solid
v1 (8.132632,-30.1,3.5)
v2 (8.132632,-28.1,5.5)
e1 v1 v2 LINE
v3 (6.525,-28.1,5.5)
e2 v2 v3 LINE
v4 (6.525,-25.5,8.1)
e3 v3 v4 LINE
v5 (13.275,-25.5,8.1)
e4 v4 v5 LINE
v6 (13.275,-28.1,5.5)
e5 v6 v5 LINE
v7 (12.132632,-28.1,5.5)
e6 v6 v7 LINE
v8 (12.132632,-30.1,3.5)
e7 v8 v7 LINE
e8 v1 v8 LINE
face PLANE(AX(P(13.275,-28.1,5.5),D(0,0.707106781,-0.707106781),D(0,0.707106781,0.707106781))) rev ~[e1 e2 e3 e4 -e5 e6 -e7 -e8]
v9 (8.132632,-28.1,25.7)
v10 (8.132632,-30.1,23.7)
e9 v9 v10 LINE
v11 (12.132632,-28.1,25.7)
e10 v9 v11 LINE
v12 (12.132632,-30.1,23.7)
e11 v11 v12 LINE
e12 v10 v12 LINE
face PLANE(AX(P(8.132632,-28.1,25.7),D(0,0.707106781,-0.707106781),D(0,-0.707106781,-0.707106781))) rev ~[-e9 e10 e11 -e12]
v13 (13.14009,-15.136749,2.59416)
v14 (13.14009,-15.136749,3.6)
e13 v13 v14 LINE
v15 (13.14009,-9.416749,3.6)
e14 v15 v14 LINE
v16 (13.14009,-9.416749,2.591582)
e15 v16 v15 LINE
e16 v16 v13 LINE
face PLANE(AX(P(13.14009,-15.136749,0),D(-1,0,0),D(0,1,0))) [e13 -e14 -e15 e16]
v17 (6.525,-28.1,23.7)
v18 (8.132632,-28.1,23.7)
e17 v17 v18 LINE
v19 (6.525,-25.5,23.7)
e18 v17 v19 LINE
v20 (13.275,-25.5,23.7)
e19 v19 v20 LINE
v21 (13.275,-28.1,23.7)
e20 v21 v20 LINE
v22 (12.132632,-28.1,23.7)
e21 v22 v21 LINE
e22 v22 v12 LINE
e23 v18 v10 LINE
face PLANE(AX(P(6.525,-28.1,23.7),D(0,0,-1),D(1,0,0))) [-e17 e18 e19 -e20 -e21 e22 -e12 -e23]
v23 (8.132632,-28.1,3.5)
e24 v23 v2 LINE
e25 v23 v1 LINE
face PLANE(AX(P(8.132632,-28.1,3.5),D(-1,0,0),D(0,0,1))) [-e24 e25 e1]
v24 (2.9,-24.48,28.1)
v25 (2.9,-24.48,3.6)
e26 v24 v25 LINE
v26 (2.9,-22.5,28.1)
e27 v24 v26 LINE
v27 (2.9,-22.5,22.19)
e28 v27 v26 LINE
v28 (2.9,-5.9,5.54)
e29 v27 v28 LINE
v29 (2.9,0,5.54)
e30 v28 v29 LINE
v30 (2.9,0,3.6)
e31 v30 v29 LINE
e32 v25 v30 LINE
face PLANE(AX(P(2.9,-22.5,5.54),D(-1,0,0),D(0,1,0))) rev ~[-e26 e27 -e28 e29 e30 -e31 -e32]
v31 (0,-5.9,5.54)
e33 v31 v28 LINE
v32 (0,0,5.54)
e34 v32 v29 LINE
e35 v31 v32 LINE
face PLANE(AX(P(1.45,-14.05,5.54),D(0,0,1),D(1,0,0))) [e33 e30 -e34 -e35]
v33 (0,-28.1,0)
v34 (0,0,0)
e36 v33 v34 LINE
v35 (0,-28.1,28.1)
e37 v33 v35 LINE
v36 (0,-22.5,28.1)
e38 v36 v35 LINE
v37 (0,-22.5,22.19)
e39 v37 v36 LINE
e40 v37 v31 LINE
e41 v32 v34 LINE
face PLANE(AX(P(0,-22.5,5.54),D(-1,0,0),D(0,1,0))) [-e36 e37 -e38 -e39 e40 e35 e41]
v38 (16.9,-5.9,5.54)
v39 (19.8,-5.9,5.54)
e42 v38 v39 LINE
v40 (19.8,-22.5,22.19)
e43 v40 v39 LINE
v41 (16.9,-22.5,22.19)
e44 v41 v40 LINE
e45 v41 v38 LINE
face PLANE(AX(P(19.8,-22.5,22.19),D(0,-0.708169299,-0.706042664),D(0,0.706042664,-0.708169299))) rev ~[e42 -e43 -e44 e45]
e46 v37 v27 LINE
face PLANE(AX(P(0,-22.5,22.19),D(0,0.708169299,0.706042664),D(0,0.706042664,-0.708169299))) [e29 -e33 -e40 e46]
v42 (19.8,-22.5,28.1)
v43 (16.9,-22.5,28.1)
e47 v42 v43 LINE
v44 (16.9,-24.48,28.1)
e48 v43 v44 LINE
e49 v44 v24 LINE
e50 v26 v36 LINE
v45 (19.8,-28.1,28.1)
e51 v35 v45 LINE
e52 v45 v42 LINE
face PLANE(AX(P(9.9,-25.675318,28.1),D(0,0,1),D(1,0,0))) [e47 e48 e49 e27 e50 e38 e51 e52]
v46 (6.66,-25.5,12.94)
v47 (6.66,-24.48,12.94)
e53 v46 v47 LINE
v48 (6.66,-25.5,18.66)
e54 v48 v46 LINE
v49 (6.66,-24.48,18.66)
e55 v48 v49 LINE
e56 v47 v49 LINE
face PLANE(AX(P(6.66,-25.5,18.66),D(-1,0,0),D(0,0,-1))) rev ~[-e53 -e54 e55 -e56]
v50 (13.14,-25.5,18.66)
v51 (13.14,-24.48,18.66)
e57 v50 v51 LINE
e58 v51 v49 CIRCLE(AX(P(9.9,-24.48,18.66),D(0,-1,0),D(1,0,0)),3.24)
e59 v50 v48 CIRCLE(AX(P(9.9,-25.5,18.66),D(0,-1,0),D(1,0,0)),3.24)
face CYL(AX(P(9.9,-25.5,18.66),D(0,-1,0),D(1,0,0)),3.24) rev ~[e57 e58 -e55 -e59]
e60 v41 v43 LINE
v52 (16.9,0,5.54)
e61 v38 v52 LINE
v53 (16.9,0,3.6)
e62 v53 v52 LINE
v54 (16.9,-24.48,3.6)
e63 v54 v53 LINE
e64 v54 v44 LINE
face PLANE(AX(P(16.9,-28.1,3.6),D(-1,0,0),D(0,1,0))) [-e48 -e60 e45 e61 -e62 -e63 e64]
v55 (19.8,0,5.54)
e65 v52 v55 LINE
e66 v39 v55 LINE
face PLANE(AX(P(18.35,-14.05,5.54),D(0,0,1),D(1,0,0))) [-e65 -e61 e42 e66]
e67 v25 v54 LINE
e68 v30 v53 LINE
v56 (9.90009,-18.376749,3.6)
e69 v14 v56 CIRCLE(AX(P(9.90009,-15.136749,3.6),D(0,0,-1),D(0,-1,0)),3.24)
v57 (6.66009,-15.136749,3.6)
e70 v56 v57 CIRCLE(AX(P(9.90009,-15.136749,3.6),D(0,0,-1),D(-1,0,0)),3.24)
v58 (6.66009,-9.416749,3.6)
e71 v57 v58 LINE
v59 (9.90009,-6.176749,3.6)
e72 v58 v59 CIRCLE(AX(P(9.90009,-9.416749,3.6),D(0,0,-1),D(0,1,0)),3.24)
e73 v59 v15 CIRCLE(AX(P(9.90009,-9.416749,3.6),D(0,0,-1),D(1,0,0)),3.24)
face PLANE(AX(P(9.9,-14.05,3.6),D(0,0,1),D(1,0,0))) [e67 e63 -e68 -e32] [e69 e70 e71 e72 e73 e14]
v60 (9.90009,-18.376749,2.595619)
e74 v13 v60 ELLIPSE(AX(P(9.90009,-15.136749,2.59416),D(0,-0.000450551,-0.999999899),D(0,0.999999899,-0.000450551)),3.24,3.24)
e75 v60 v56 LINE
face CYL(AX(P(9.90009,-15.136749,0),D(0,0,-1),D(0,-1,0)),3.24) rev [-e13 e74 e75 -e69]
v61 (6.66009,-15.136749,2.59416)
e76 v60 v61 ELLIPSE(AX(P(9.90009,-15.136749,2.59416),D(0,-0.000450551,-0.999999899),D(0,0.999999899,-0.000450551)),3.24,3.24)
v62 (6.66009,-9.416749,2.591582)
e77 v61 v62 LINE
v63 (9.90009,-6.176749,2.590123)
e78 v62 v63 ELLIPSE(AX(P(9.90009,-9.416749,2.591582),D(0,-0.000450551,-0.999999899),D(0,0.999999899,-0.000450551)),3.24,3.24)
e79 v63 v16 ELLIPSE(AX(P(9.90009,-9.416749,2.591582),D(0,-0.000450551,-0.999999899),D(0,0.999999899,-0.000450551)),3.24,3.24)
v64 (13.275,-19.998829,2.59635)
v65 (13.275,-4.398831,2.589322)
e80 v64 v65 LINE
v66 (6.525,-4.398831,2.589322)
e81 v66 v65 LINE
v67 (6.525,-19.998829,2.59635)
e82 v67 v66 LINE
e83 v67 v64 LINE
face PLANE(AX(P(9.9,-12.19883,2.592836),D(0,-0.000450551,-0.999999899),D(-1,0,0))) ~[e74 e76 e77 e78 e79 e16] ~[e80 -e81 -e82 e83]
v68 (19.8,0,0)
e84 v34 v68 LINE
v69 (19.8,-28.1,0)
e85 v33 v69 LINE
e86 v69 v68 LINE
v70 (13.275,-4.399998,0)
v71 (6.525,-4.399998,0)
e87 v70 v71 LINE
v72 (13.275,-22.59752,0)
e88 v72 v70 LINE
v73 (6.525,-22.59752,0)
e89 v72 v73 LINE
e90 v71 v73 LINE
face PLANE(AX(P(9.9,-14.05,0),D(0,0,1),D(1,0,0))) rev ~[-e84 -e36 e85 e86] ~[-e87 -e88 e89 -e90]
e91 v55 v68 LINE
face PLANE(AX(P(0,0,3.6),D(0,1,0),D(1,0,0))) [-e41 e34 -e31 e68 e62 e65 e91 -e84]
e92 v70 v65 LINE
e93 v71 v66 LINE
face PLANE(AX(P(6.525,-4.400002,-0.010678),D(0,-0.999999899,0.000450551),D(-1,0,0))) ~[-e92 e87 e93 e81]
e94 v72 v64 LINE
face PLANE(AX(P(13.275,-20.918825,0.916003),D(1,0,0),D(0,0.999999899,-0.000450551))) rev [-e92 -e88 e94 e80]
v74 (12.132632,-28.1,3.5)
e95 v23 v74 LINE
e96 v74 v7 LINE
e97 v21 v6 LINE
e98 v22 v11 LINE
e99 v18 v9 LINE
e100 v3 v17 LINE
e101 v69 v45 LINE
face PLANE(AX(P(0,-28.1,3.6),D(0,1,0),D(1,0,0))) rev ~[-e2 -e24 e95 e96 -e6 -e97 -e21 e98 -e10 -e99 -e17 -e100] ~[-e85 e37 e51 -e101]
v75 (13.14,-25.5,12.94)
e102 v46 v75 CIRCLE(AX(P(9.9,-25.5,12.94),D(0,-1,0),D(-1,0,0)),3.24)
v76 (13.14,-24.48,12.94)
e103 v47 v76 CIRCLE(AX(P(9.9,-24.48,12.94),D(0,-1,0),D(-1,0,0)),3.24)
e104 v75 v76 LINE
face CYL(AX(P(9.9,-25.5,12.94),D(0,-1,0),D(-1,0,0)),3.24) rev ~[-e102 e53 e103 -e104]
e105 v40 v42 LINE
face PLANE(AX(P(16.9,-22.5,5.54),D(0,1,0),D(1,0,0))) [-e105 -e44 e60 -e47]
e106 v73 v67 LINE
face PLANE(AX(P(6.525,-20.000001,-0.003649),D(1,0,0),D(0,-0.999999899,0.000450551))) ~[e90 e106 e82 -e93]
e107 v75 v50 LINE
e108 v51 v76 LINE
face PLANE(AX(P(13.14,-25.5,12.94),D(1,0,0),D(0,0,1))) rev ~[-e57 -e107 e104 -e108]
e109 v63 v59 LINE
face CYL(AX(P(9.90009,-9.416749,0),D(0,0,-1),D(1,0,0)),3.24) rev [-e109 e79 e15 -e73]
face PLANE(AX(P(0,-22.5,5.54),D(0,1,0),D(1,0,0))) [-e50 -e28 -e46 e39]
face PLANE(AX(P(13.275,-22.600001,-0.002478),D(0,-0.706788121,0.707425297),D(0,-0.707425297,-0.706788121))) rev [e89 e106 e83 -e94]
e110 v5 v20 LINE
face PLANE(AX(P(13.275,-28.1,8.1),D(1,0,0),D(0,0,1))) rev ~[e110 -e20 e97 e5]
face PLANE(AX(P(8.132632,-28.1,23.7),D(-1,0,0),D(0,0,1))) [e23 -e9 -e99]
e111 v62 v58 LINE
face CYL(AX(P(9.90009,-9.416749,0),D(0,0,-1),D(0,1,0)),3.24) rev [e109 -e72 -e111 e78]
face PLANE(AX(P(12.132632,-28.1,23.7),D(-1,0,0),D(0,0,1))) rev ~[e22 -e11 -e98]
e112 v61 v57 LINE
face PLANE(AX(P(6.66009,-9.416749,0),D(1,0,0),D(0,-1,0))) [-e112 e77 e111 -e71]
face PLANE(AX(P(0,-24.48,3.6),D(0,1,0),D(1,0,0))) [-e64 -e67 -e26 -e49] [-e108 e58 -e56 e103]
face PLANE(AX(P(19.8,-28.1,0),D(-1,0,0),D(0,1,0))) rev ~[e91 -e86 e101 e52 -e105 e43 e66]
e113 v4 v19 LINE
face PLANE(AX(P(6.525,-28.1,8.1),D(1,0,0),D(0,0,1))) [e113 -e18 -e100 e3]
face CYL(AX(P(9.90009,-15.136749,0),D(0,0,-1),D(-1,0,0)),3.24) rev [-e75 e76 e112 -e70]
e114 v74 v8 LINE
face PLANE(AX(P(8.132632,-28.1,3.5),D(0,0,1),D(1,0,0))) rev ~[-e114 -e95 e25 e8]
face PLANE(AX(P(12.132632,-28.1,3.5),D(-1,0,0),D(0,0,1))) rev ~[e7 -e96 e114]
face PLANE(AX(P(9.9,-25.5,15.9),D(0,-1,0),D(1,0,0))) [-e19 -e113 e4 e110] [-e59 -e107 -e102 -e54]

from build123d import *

# Parameters (mm, degrees)
SKETCH_1_W          = 19.8
SKETCH_1_H          = 28.1
EXTRUDE_1_DEPTH     = 3.6
SKETCH_2_W          = 2.9
SKETCH_2_H          = 28.1
EXTRUDE_2_DEPTH     = 1.94
SKETCH_3_W          = 19.8
SKETCH_3_H          = 3.62
EXTRUDE_3_DEPTH     = 27.8
SKETCH_4_W          = 2.9
SKETCH_4_H          = 5.6
EXTRUDE_4_DEPTH     = 25.86
SKETCH_5_W          = 2.9
SKETCH_5_H          = 16.6
EXTRUDE_5_DEPTH     = 16.65
CUT_EXTRUDE_1_DEPTH = 3.3
CUT_EXTRUDE_2_DEPTH = 2.9
CUT_EXTRUDE_3_DEPTH = 2.9
SKETCH_11_W         = 6.75
SKETCH_11_H         = 15.6
CUT_EXTRUDE_4_DEPTH = 2.6
CUT_EXTRUDE_5_DEPTH = 6.75
CUT_EXTRUDE_6_DEPTH = 5
SKETCH_19_W         = 4
SKETCH_19_H         = 2
EXTRUDE_7_DEPTH     = 2
CUT_EXTRUDE_7_DEPTH = 10
CUT_EXTRUDE_8_DEPTH = 10


with BuildPart() as part:
    # 草图1 → 凸台-拉伸1 (new body)
    with BuildSketch(Plane.XY):
        with Locations((9.9, -14.05)):
            Rectangle(SKETCH_1_W, SKETCH_1_H)
    extrude(amount=EXTRUDE_1_DEPTH)

    # 草图2 → 凸台-拉伸2 (add)
    with BuildSketch(Plane.XY.offset(3.6)):
        with Locations((1.45, -14.05)):
            Rectangle(SKETCH_2_W, SKETCH_2_H)
        with Locations((18.35, -14.05)):
            Rectangle(SKETCH_2_W, SKETCH_2_H)
    extrude(amount=EXTRUDE_2_DEPTH)

    # 草图3 → 凸台-拉伸3 (add)
    with BuildSketch(Plane.XY.offset(3.6)):
        with Locations((9.9, -26.29)):
            Rectangle(SKETCH_3_W, SKETCH_3_H)
    extrude(amount=EXTRUDE_3_DEPTH)

    # 草图4 → 凸台-拉伸4 (add)
    with BuildSketch(Plane.XY.offset(5.54)):
        with Locations((1.45, -25.3)):
            Rectangle(SKETCH_4_W, SKETCH_4_H)
        with Locations((18.35, -25.3)):
            Rectangle(SKETCH_4_W, SKETCH_4_H)
    extrude(amount=EXTRUDE_4_DEPTH)

    # 草图5 → 凸台-拉伸5 (add)
    with BuildSketch(Plane.XY.offset(5.54)):
        with Locations((1.45, -14.2)):
            Rectangle(SKETCH_5_W, SKETCH_5_H)
        with Locations((18.35, -14.2)):
            Rectangle(SKETCH_5_W, SKETCH_5_H)
    extrude(amount=EXTRUDE_5_DEPTH)

    # 草图6 → 切除-拉伸1 (cut)
    with BuildSketch(Plane.XY.offset(31.4)):
        Polygon((0, -22.5), (0, -28.1), (19.8, -28.1), (19.8, -22.5), (16.9, -22.5), (16.9, -24.48), (2.9, -24.48), (2.9, -22.5), align=None)
    extrude(amount=-CUT_EXTRUDE_1_DEPTH, mode=Mode.SUBTRACT)

    # 草图9 → 切除-拉伸2 (cut)
    with BuildSketch(Plane.ZY):
        Polygon((5.54, -5.9), (22.19, -5.9), (22.19, -22.5), align=None)
    extrude(amount=-CUT_EXTRUDE_2_DEPTH, mode=Mode.SUBTRACT)

    # 草图10 → 切除-拉伸3 (cut)
    with BuildSketch(Plane(origin=(19.8, 0, 0), x_dir=(0, 0, -1), z_dir=(1, 0, 0))):
        Polygon((-5.54, -5.9), (-22.19, -5.9), (-22.19, -22.5), align=None)
    extrude(amount=-CUT_EXTRUDE_3_DEPTH, mode=Mode.SUBTRACT)

    # 草图11 → 切除-拉伸4 (cut)
    with BuildSketch(Plane.XZ.offset(28.1)):
        with Locations((9.9, 15.9)):
            Rectangle(SKETCH_11_W, SKETCH_11_H)
    cut_extrude_4 = extrude(amount=-CUT_EXTRUDE_4_DEPTH, mode=Mode.SUBTRACT)

    # 草图13 → 切除-拉伸5 (cut)
    with BuildSketch(Plane.ZY.offset(-13.275)):
        Polygon((8.1, -28.1), (5.5, -28.1), (8.1, -25.5), align=None)
    cut_extrude_5 = extrude(amount=CUT_EXTRUDE_5_DEPTH, mode=Mode.SUBTRACT)

    # 镜向1: 切除-拉伸4, 切除-拉伸5 across plane
    add(cut_extrude_4.mirror(Plane(origin=(0, -14.043669746, 14.049998574), x_dir=(0, 0.707266057, 0.706947469), z_dir=(0, -0.706947469, 0.707266057))), mode=Mode.SUBTRACT)
    add(cut_extrude_5.mirror(Plane(origin=(0, -14.043669746, 14.049998574), x_dir=(0, 0.707266057, 0.706947469), z_dir=(0, -0.706947469, 0.707266057))), mode=Mode.SUBTRACT)

    # 草图16 → 切除-拉伸6 (cut)
    with BuildSketch(Plane.XZ.offset(25.5)):
        with BuildLine():
            Line((6.66, 18.66), (6.66, 12.94))
            ThreePointArc((6.66, 12.94), (9.9, 9.7), (13.14, 12.94))
            Line((13.14, 12.94), (13.14, 18.66))
            ThreePointArc((13.14, 18.66), (9.9, 21.9), (6.66, 18.66))
        make_face()
    extrude(amount=-CUT_EXTRUDE_6_DEPTH, mode=Mode.SUBTRACT)

    # 草图19 → 凸台-拉伸7 (add)
    with BuildSketch(Plane.XZ.offset(28.1)):
        with Locations((10.132631834, 4.5)):
            Rectangle(SKETCH_19_W, SKETCH_19_H)
        with Locations((10.132631834, 24.7)):
            Rectangle(SKETCH_19_W, SKETCH_19_H)
    extrude(amount=EXTRUDE_7_DEPTH)

    # 草图21 → 切除-拉伸7 (cut)
    with BuildSketch(Plane.ZY.offset(-8.132631834)):
        Polygon((5.5, -28.1), (5.5, -30.1), (3.5, -30.1), align=None)
        Polygon((25.7, -28.1), (23.7, -30.1), (25.7, -30.1), align=None)
    extrude(amount=-CUT_EXTRUDE_7_DEPTH, mode=Mode.SUBTRACT)

    # 草图23 → 切除-拉伸8 (cut)
    with BuildSketch(Plane.XY):
        with BuildLine():
            ThreePointArc((13.140089886, -9.416749042), (12.191115857, -7.125723071), (9.900089886, -6.176749042))
            Line((9.900089886, -6.176749042), (9.900089886, -9.416749042))
            Line((9.900089886, -9.416749042), (9.900089886, -11.896749042))
            ThreePointArc((9.900089886, -11.896749042), (10.684691696, -11.993184187), (11.422587833, -12.276749042))
            ThreePointArc((11.422587833, -12.276749042), (12.677723172, -11.084787808), (13.140089886, -9.416749042))
        make_face()
        with BuildLine():
            Line((9.900089886, -9.416749042), (9.900089886, -6.176749042))
            ThreePointArc((9.900089886, -6.176749042), (7.609063915, -7.125723071), (6.660089886, -9.416749042))
            ThreePointArc((6.660089886, -9.416749042), (7.122456599, -11.084787808), (8.377591938, -12.276749042))
            ThreePointArc((8.377591938, -12.276749042), (9.115488076, -11.993184187), (9.900089886, -11.896749042))
            Line((9.900089886, -11.896749042), (9.900089886, -9.416749042))
        make_face()
        with BuildLine():
            ThreePointArc((13.140089886, -9.416749042), (12.191115857, -7.125723071), (9.900089886, -6.176749042))
            Line((9.900089886, -6.176749042), (9.900089886, -9.416749042))
            Line((9.900089886, -9.416749042), (9.900089886, -11.896749042))
            ThreePointArc((9.900089886, -11.896749042), (10.684691696, -11.993184187), (11.422587833, -12.276749042))
            ThreePointArc((11.422587833, -12.276749042), (12.677723172, -11.084787808), (13.140089886, -9.416749042))
        make_face()
        with BuildLine():
            Line((9.900089886, -9.416749042), (9.900089886, -6.176749042))
            ThreePointArc((9.900089886, -6.176749042), (7.609063915, -7.125723071), (6.660089886, -9.416749042))
            ThreePointArc((6.660089886, -9.416749042), (7.122456599, -11.084787808), (8.377591938, -12.276749042))
            ThreePointArc((8.377591938, -12.276749042), (9.115488076, -11.993184187), (9.900089886, -11.896749042))
            Line((9.900089886, -11.896749042), (9.900089886, -9.416749042))
        make_face()
        with BuildLine():
            ThreePointArc((6.660089886, -15.136749042), (7.609063915, -17.427775013), (9.900089886, -18.376749042))
            Line((9.900089886, -18.376749042), (9.900089886, -15.136749042))
            Line((9.900089886, -15.136749042), (9.900089886, -12.656749042))
            ThreePointArc((9.900089886, -12.656749042), (9.115488076, -12.560313898), (8.377591938, -12.276749042))
            ThreePointArc((8.377591938, -12.276749042), (7.122456599, -13.468710276), (6.660089886, -15.136749042))
        make_face()
        with BuildLine():
            Line((9.900089886, -15.136749042), (9.900089886, -18.376749042))
            ThreePointArc((9.900089886, -18.376749042), (12.191115857, -17.427775013), (13.140089886, -15.136749042))
            ThreePointArc((13.140089886, -15.136749042), (12.677723172, -13.468710276), (11.422587833, -12.276749042))
            ThreePointArc((11.422587833, -12.276749042), (10.684691696, -12.560313898), (9.900089886, -12.656749042))
            Line((9.900089886, -12.656749042), (9.900089886, -15.136749042))
        make_face()
        with BuildLine():
            ThreePointArc((11.422587833, -12.276749042), (10.684691696, -11.993184187), (9.900089886, -11.896749042))
            Line((9.900089886, -11.896749042), (9.900089886, -12.656749042))
            ThreePointArc((9.900089886, -12.656749042), (10.684691696, -12.560313898), (11.422587833, -12.276749042))
        make_face()
        with BuildLine():
            Line((9.900089886, -12.656749042), (9.900089886, -11.896749042))
            ThreePointArc((9.900089886, -11.896749042), (9.115488076, -11.993184187), (8.377591938, -12.276749042))
            ThreePointArc((8.377591938, -12.276749042), (9.115488076, -12.560313898), (9.900089886, -12.656749042))
        make_face()
        with BuildLine():
            ThreePointArc((13.140089886, -9.416749042), (12.191115857, -7.125723071), (9.900089886, -6.176749042))
            Line((9.900089886, -6.176749042), (9.900089886, -9.416749042))
            Line((9.900089886, -9.416749042), (9.900089886, -11.896749042))
            ThreePointArc((9.900089886, -11.896749042), (10.684691696, -11.993184187), (11.422587833, -12.276749042))
            ThreePointArc((11.422587833, -12.276749042), (12.677723172, -11.084787808), (13.140089886, -9.416749042))
        make_face()
        with BuildLine():
            Line((9.900089886, -9.416749042), (9.900089886, -6.176749042))
            ThreePointArc((9.900089886, -6.176749042), (7.609063915, -7.125723071), (6.660089886, -9.416749042))
            ThreePointArc((6.660089886, -9.416749042), (7.122456599, -11.084787808), (8.377591938, -12.276749042))
            ThreePointArc((8.377591938, -12.276749042), (9.115488076, -11.993184187), (9.900089886, -11.896749042))
            Line((9.900089886, -11.896749042), (9.900089886, -9.416749042))
        make_face()
        with BuildLine():
            ThreePointArc((6.660089886, -15.136749042), (7.609063915, -17.427775013), (9.900089886, -18.376749042))
            Line((9.900089886, -18.376749042), (9.900089886, -15.136749042))
            Line((9.900089886, -15.136749042), (9.900089886, -12.656749042))
            ThreePointArc((9.900089886, -12.656749042), (9.115488076, -12.560313898), (8.377591938, -12.276749042))
            ThreePointArc((8.377591938, -12.276749042), (7.122456599, -13.468710276), (6.660089886, -15.136749042))
        make_face()
        with BuildLine():
            Line((9.900089886, -15.136749042), (9.900089886, -18.376749042))
            ThreePointArc((9.900089886, -18.376749042), (12.191115857, -17.427775013), (13.140089886, -15.136749042))
            ThreePointArc((13.140089886, -15.136749042), (12.677723172, -13.468710276), (11.422587833, -12.276749042))
            ThreePointArc((11.422587833, -12.276749042), (10.684691696, -12.560313898), (9.900089886, -12.656749042))
            Line((9.900089886, -12.656749042), (9.900089886, -15.136749042))
        make_face()
        with BuildLine():
            ThreePointArc((11.422587833, -12.276749042), (10.684691696, -11.993184187), (9.900089886, -11.896749042))
            Line((9.900089886, -11.896749042), (9.900089886, -12.656749042))
            ThreePointArc((9.900089886, -12.656749042), (10.684691696, -12.560313898), (11.422587833, -12.276749042))
        make_face()
        with BuildLine():
            Line((9.900089886, -12.656749042), (9.900089886, -11.896749042))
            ThreePointArc((9.900089886, -11.896749042), (9.115488076, -11.993184187), (8.377591938, -12.276749042))
            ThreePointArc((8.377591938, -12.276749042), (9.115488076, -12.560313898), (9.900089886, -12.656749042))
        make_face()
        with BuildLine():
            ThreePointArc((13.140089886, -9.416749042), (12.191115857, -7.125723071), (9.900089886, -6.176749042))
            Line((9.900089886, -6.176749042), (9.900089886, -9.416749042))
            Line((9.900089886, -9.416749042), (9.900089886, -11.896749042))
            ThreePointArc((9.900089886, -11.896749042), (10.684691696, -11.993184187), (11.422587833, -12.276749042))
            ThreePointArc((11.422587833, -12.276749042), (12.677723172, -11.084787808), (13.140089886, -9.416749042))
        make_face()
        with BuildLine():
            Line((9.900089886, -9.416749042), (9.900089886, -6.176749042))
            ThreePointArc((9.900089886, -6.176749042), (7.609063915, -7.125723071), (6.660089886, -9.416749042))
            ThreePointArc((6.660089886, -9.416749042), (7.122456599, -11.084787808), (8.377591938, -12.276749042))
            ThreePointArc((8.377591938, -12.276749042), (9.115488076, -11.993184187), (9.900089886, -11.896749042))
            Line((9.900089886, -11.896749042), (9.900089886, -9.416749042))
        make_face()
        with BuildLine():
            ThreePointArc((6.660089886, -15.136749042), (7.609063915, -17.427775013), (9.900089886, -18.376749042))
            Line((9.900089886, -18.376749042), (9.900089886, -15.136749042))
            Line((9.900089886, -15.136749042), (9.900089886, -12.656749042))
            ThreePointArc((9.900089886, -12.656749042), (9.115488076, -12.560313898), (8.377591938, -12.276749042))
            ThreePointArc((8.377591938, -12.276749042), (7.122456599, -13.468710276), (6.660089886, -15.136749042))
        make_face()
        with BuildLine():
            Line((9.900089886, -15.136749042), (9.900089886, -18.376749042))
            ThreePointArc((9.900089886, -18.376749042), (12.191115857, -17.427775013), (13.140089886, -15.136749042))
            ThreePointArc((13.140089886, -15.136749042), (12.677723172, -13.468710276), (11.422587833, -12.276749042))
            ThreePointArc((11.422587833, -12.276749042), (10.684691696, -12.560313898), (9.900089886, -12.656749042))
            Line((9.900089886, -12.656749042), (9.900089886, -15.136749042))
        make_face()
        with BuildLine():
            ThreePointArc((11.422587833, -12.276749042), (10.684691696, -11.993184187), (9.900089886, -11.896749042))
            Line((9.900089886, -11.896749042), (9.900089886, -12.656749042))
            ThreePointArc((9.900089886, -12.656749042), (10.684691696, -12.560313898), (11.422587833, -12.276749042))
        make_face()
        with BuildLine():
            Line((9.900089886, -12.656749042), (9.900089886, -11.896749042))
            ThreePointArc((9.900089886, -11.896749042), (9.115488076, -11.993184187), (8.377591938, -12.276749042))
            ThreePointArc((8.377591938, -12.276749042), (9.115488076, -12.560313898), (9.900089886, -12.656749042))
        make_face()
        with BuildLine():
            ThreePointArc((13.140089886, -9.416749042), (12.191115857, -7.125723071), (9.900089886, -6.176749042))
            Line((9.900089886, -6.176749042), (9.900089886, -9.416749042))
            Line((9.900089886, -9.416749042), (9.900089886, -11.896749042))
            ThreePointArc((9.900089886, -11.896749042), (10.684691696, -11.993184187), (11.422587833, -12.276749042))
            ThreePointArc((11.422587833, -12.276749042), (12.677723172, -11.084787808), (13.140089886, -9.416749042))
        make_face()
        with BuildLine():
            Line((9.900089886, -9.416749042), (9.900089886, -6.176749042))
            ThreePointArc((9.900089886, -6.176749042), (7.609063915, -7.125723071), (6.660089886, -9.416749042))
            ThreePointArc((6.660089886, -9.416749042), (7.122456599, -11.084787808), (8.377591938, -12.276749042))
            ThreePointArc((8.377591938, -12.276749042), (9.115488076, -11.993184187), (9.900089886, -11.896749042))
            Line((9.900089886, -11.896749042), (9.900089886, -9.416749042))
        make_face()
        with BuildLine():
            ThreePointArc((13.140089886, -9.416749042), (12.191115857, -7.125723071), (9.900089886, -6.176749042))
            Line((9.900089886, -6.176749042), (9.900089886, -9.416749042))
            Line((9.900089886, -9.416749042), (9.900089886, -11.896749042))
            ThreePointArc((9.900089886, -11.896749042), (10.684691696, -11.993184187), (11.422587833, -12.276749042))
            ThreePointArc((11.422587833, -12.276749042), (12.677723172, -11.084787808), (13.140089886, -9.416749042))
        make_face()
        with BuildLine():
            Line((9.900089886, -9.416749042), (9.900089886, -6.176749042))
            ThreePointArc((9.900089886, -6.176749042), (7.609063915, -7.125723071), (6.660089886, -9.416749042))
            ThreePointArc((6.660089886, -9.416749042), (7.122456599, -11.084787808), (8.377591938, -12.276749042))
            ThreePointArc((8.377591938, -12.276749042), (9.115488076, -11.993184187), (9.900089886, -11.896749042))
            Line((9.900089886, -11.896749042), (9.900089886, -9.416749042))
        make_face()
        with BuildLine():
            ThreePointArc((6.660089886, -15.136749042), (7.609063915, -17.427775013), (9.900089886, -18.376749042))
            Line((9.900089886, -18.376749042), (9.900089886, -15.136749042))
            Line((9.900089886, -15.136749042), (9.900089886, -12.656749042))
            ThreePointArc((9.900089886, -12.656749042), (9.115488076, -12.560313898), (8.377591938, -12.276749042))
            ThreePointArc((8.377591938, -12.276749042), (7.122456599, -13.468710276), (6.660089886, -15.136749042))
        make_face()
        with BuildLine():
            Line((9.900089886, -15.136749042), (9.900089886, -18.376749042))
            ThreePointArc((9.900089886, -18.376749042), (12.191115857, -17.427775013), (13.140089886, -15.136749042))
            ThreePointArc((13.140089886, -15.136749042), (12.677723172, -13.468710276), (11.422587833, -12.276749042))
            ThreePointArc((11.422587833, -12.276749042), (10.684691696, -12.560313898), (9.900089886, -12.656749042))
            Line((9.900089886, -12.656749042), (9.900089886, -15.136749042))
        make_face()
        with BuildLine():
            ThreePointArc((11.422587833, -12.276749042), (10.684691696, -11.993184187), (9.900089886, -11.896749042))
            Line((9.900089886, -11.896749042), (9.900089886, -12.656749042))
            ThreePointArc((9.900089886, -12.656749042), (10.684691696, -12.560313898), (11.422587833, -12.276749042))
        make_face()
        with BuildLine():
            Line((9.900089886, -12.656749042), (9.900089886, -11.896749042))
            ThreePointArc((9.900089886, -11.896749042), (9.115488076, -11.993184187), (8.377591938, -12.276749042))
            ThreePointArc((8.377591938, -12.276749042), (9.115488076, -12.560313898), (9.900089886, -12.656749042))
        make_face()
        with BuildLine():
            Line((13.140089886, -15.136749042), (13.140089886, -9.416749042))
            ThreePointArc((13.140089886, -9.416749042), (12.677723172, -11.084787808), (11.422587833, -12.276749042))
            ThreePointArc((11.422587833, -12.276749042), (12.677723172, -13.468710276), (13.140089886, -15.136749042))
        make_face()
        with BuildLine():
            ThreePointArc((8.377591938, -12.276749042), (7.122456599, -11.084787808), (6.660089886, -9.416749042))
            Line((6.660089886, -9.416749042), (6.660089886, -15.136749042))
            ThreePointArc((6.660089886, -15.136749042), (7.122456599, -13.468710276), (8.377591938, -12.276749042))
        make_face()
    extrude(amount=CUT_EXTRUDE_8_DEPTH, mode=Mode.SUBTRACT)


solid = part.part
